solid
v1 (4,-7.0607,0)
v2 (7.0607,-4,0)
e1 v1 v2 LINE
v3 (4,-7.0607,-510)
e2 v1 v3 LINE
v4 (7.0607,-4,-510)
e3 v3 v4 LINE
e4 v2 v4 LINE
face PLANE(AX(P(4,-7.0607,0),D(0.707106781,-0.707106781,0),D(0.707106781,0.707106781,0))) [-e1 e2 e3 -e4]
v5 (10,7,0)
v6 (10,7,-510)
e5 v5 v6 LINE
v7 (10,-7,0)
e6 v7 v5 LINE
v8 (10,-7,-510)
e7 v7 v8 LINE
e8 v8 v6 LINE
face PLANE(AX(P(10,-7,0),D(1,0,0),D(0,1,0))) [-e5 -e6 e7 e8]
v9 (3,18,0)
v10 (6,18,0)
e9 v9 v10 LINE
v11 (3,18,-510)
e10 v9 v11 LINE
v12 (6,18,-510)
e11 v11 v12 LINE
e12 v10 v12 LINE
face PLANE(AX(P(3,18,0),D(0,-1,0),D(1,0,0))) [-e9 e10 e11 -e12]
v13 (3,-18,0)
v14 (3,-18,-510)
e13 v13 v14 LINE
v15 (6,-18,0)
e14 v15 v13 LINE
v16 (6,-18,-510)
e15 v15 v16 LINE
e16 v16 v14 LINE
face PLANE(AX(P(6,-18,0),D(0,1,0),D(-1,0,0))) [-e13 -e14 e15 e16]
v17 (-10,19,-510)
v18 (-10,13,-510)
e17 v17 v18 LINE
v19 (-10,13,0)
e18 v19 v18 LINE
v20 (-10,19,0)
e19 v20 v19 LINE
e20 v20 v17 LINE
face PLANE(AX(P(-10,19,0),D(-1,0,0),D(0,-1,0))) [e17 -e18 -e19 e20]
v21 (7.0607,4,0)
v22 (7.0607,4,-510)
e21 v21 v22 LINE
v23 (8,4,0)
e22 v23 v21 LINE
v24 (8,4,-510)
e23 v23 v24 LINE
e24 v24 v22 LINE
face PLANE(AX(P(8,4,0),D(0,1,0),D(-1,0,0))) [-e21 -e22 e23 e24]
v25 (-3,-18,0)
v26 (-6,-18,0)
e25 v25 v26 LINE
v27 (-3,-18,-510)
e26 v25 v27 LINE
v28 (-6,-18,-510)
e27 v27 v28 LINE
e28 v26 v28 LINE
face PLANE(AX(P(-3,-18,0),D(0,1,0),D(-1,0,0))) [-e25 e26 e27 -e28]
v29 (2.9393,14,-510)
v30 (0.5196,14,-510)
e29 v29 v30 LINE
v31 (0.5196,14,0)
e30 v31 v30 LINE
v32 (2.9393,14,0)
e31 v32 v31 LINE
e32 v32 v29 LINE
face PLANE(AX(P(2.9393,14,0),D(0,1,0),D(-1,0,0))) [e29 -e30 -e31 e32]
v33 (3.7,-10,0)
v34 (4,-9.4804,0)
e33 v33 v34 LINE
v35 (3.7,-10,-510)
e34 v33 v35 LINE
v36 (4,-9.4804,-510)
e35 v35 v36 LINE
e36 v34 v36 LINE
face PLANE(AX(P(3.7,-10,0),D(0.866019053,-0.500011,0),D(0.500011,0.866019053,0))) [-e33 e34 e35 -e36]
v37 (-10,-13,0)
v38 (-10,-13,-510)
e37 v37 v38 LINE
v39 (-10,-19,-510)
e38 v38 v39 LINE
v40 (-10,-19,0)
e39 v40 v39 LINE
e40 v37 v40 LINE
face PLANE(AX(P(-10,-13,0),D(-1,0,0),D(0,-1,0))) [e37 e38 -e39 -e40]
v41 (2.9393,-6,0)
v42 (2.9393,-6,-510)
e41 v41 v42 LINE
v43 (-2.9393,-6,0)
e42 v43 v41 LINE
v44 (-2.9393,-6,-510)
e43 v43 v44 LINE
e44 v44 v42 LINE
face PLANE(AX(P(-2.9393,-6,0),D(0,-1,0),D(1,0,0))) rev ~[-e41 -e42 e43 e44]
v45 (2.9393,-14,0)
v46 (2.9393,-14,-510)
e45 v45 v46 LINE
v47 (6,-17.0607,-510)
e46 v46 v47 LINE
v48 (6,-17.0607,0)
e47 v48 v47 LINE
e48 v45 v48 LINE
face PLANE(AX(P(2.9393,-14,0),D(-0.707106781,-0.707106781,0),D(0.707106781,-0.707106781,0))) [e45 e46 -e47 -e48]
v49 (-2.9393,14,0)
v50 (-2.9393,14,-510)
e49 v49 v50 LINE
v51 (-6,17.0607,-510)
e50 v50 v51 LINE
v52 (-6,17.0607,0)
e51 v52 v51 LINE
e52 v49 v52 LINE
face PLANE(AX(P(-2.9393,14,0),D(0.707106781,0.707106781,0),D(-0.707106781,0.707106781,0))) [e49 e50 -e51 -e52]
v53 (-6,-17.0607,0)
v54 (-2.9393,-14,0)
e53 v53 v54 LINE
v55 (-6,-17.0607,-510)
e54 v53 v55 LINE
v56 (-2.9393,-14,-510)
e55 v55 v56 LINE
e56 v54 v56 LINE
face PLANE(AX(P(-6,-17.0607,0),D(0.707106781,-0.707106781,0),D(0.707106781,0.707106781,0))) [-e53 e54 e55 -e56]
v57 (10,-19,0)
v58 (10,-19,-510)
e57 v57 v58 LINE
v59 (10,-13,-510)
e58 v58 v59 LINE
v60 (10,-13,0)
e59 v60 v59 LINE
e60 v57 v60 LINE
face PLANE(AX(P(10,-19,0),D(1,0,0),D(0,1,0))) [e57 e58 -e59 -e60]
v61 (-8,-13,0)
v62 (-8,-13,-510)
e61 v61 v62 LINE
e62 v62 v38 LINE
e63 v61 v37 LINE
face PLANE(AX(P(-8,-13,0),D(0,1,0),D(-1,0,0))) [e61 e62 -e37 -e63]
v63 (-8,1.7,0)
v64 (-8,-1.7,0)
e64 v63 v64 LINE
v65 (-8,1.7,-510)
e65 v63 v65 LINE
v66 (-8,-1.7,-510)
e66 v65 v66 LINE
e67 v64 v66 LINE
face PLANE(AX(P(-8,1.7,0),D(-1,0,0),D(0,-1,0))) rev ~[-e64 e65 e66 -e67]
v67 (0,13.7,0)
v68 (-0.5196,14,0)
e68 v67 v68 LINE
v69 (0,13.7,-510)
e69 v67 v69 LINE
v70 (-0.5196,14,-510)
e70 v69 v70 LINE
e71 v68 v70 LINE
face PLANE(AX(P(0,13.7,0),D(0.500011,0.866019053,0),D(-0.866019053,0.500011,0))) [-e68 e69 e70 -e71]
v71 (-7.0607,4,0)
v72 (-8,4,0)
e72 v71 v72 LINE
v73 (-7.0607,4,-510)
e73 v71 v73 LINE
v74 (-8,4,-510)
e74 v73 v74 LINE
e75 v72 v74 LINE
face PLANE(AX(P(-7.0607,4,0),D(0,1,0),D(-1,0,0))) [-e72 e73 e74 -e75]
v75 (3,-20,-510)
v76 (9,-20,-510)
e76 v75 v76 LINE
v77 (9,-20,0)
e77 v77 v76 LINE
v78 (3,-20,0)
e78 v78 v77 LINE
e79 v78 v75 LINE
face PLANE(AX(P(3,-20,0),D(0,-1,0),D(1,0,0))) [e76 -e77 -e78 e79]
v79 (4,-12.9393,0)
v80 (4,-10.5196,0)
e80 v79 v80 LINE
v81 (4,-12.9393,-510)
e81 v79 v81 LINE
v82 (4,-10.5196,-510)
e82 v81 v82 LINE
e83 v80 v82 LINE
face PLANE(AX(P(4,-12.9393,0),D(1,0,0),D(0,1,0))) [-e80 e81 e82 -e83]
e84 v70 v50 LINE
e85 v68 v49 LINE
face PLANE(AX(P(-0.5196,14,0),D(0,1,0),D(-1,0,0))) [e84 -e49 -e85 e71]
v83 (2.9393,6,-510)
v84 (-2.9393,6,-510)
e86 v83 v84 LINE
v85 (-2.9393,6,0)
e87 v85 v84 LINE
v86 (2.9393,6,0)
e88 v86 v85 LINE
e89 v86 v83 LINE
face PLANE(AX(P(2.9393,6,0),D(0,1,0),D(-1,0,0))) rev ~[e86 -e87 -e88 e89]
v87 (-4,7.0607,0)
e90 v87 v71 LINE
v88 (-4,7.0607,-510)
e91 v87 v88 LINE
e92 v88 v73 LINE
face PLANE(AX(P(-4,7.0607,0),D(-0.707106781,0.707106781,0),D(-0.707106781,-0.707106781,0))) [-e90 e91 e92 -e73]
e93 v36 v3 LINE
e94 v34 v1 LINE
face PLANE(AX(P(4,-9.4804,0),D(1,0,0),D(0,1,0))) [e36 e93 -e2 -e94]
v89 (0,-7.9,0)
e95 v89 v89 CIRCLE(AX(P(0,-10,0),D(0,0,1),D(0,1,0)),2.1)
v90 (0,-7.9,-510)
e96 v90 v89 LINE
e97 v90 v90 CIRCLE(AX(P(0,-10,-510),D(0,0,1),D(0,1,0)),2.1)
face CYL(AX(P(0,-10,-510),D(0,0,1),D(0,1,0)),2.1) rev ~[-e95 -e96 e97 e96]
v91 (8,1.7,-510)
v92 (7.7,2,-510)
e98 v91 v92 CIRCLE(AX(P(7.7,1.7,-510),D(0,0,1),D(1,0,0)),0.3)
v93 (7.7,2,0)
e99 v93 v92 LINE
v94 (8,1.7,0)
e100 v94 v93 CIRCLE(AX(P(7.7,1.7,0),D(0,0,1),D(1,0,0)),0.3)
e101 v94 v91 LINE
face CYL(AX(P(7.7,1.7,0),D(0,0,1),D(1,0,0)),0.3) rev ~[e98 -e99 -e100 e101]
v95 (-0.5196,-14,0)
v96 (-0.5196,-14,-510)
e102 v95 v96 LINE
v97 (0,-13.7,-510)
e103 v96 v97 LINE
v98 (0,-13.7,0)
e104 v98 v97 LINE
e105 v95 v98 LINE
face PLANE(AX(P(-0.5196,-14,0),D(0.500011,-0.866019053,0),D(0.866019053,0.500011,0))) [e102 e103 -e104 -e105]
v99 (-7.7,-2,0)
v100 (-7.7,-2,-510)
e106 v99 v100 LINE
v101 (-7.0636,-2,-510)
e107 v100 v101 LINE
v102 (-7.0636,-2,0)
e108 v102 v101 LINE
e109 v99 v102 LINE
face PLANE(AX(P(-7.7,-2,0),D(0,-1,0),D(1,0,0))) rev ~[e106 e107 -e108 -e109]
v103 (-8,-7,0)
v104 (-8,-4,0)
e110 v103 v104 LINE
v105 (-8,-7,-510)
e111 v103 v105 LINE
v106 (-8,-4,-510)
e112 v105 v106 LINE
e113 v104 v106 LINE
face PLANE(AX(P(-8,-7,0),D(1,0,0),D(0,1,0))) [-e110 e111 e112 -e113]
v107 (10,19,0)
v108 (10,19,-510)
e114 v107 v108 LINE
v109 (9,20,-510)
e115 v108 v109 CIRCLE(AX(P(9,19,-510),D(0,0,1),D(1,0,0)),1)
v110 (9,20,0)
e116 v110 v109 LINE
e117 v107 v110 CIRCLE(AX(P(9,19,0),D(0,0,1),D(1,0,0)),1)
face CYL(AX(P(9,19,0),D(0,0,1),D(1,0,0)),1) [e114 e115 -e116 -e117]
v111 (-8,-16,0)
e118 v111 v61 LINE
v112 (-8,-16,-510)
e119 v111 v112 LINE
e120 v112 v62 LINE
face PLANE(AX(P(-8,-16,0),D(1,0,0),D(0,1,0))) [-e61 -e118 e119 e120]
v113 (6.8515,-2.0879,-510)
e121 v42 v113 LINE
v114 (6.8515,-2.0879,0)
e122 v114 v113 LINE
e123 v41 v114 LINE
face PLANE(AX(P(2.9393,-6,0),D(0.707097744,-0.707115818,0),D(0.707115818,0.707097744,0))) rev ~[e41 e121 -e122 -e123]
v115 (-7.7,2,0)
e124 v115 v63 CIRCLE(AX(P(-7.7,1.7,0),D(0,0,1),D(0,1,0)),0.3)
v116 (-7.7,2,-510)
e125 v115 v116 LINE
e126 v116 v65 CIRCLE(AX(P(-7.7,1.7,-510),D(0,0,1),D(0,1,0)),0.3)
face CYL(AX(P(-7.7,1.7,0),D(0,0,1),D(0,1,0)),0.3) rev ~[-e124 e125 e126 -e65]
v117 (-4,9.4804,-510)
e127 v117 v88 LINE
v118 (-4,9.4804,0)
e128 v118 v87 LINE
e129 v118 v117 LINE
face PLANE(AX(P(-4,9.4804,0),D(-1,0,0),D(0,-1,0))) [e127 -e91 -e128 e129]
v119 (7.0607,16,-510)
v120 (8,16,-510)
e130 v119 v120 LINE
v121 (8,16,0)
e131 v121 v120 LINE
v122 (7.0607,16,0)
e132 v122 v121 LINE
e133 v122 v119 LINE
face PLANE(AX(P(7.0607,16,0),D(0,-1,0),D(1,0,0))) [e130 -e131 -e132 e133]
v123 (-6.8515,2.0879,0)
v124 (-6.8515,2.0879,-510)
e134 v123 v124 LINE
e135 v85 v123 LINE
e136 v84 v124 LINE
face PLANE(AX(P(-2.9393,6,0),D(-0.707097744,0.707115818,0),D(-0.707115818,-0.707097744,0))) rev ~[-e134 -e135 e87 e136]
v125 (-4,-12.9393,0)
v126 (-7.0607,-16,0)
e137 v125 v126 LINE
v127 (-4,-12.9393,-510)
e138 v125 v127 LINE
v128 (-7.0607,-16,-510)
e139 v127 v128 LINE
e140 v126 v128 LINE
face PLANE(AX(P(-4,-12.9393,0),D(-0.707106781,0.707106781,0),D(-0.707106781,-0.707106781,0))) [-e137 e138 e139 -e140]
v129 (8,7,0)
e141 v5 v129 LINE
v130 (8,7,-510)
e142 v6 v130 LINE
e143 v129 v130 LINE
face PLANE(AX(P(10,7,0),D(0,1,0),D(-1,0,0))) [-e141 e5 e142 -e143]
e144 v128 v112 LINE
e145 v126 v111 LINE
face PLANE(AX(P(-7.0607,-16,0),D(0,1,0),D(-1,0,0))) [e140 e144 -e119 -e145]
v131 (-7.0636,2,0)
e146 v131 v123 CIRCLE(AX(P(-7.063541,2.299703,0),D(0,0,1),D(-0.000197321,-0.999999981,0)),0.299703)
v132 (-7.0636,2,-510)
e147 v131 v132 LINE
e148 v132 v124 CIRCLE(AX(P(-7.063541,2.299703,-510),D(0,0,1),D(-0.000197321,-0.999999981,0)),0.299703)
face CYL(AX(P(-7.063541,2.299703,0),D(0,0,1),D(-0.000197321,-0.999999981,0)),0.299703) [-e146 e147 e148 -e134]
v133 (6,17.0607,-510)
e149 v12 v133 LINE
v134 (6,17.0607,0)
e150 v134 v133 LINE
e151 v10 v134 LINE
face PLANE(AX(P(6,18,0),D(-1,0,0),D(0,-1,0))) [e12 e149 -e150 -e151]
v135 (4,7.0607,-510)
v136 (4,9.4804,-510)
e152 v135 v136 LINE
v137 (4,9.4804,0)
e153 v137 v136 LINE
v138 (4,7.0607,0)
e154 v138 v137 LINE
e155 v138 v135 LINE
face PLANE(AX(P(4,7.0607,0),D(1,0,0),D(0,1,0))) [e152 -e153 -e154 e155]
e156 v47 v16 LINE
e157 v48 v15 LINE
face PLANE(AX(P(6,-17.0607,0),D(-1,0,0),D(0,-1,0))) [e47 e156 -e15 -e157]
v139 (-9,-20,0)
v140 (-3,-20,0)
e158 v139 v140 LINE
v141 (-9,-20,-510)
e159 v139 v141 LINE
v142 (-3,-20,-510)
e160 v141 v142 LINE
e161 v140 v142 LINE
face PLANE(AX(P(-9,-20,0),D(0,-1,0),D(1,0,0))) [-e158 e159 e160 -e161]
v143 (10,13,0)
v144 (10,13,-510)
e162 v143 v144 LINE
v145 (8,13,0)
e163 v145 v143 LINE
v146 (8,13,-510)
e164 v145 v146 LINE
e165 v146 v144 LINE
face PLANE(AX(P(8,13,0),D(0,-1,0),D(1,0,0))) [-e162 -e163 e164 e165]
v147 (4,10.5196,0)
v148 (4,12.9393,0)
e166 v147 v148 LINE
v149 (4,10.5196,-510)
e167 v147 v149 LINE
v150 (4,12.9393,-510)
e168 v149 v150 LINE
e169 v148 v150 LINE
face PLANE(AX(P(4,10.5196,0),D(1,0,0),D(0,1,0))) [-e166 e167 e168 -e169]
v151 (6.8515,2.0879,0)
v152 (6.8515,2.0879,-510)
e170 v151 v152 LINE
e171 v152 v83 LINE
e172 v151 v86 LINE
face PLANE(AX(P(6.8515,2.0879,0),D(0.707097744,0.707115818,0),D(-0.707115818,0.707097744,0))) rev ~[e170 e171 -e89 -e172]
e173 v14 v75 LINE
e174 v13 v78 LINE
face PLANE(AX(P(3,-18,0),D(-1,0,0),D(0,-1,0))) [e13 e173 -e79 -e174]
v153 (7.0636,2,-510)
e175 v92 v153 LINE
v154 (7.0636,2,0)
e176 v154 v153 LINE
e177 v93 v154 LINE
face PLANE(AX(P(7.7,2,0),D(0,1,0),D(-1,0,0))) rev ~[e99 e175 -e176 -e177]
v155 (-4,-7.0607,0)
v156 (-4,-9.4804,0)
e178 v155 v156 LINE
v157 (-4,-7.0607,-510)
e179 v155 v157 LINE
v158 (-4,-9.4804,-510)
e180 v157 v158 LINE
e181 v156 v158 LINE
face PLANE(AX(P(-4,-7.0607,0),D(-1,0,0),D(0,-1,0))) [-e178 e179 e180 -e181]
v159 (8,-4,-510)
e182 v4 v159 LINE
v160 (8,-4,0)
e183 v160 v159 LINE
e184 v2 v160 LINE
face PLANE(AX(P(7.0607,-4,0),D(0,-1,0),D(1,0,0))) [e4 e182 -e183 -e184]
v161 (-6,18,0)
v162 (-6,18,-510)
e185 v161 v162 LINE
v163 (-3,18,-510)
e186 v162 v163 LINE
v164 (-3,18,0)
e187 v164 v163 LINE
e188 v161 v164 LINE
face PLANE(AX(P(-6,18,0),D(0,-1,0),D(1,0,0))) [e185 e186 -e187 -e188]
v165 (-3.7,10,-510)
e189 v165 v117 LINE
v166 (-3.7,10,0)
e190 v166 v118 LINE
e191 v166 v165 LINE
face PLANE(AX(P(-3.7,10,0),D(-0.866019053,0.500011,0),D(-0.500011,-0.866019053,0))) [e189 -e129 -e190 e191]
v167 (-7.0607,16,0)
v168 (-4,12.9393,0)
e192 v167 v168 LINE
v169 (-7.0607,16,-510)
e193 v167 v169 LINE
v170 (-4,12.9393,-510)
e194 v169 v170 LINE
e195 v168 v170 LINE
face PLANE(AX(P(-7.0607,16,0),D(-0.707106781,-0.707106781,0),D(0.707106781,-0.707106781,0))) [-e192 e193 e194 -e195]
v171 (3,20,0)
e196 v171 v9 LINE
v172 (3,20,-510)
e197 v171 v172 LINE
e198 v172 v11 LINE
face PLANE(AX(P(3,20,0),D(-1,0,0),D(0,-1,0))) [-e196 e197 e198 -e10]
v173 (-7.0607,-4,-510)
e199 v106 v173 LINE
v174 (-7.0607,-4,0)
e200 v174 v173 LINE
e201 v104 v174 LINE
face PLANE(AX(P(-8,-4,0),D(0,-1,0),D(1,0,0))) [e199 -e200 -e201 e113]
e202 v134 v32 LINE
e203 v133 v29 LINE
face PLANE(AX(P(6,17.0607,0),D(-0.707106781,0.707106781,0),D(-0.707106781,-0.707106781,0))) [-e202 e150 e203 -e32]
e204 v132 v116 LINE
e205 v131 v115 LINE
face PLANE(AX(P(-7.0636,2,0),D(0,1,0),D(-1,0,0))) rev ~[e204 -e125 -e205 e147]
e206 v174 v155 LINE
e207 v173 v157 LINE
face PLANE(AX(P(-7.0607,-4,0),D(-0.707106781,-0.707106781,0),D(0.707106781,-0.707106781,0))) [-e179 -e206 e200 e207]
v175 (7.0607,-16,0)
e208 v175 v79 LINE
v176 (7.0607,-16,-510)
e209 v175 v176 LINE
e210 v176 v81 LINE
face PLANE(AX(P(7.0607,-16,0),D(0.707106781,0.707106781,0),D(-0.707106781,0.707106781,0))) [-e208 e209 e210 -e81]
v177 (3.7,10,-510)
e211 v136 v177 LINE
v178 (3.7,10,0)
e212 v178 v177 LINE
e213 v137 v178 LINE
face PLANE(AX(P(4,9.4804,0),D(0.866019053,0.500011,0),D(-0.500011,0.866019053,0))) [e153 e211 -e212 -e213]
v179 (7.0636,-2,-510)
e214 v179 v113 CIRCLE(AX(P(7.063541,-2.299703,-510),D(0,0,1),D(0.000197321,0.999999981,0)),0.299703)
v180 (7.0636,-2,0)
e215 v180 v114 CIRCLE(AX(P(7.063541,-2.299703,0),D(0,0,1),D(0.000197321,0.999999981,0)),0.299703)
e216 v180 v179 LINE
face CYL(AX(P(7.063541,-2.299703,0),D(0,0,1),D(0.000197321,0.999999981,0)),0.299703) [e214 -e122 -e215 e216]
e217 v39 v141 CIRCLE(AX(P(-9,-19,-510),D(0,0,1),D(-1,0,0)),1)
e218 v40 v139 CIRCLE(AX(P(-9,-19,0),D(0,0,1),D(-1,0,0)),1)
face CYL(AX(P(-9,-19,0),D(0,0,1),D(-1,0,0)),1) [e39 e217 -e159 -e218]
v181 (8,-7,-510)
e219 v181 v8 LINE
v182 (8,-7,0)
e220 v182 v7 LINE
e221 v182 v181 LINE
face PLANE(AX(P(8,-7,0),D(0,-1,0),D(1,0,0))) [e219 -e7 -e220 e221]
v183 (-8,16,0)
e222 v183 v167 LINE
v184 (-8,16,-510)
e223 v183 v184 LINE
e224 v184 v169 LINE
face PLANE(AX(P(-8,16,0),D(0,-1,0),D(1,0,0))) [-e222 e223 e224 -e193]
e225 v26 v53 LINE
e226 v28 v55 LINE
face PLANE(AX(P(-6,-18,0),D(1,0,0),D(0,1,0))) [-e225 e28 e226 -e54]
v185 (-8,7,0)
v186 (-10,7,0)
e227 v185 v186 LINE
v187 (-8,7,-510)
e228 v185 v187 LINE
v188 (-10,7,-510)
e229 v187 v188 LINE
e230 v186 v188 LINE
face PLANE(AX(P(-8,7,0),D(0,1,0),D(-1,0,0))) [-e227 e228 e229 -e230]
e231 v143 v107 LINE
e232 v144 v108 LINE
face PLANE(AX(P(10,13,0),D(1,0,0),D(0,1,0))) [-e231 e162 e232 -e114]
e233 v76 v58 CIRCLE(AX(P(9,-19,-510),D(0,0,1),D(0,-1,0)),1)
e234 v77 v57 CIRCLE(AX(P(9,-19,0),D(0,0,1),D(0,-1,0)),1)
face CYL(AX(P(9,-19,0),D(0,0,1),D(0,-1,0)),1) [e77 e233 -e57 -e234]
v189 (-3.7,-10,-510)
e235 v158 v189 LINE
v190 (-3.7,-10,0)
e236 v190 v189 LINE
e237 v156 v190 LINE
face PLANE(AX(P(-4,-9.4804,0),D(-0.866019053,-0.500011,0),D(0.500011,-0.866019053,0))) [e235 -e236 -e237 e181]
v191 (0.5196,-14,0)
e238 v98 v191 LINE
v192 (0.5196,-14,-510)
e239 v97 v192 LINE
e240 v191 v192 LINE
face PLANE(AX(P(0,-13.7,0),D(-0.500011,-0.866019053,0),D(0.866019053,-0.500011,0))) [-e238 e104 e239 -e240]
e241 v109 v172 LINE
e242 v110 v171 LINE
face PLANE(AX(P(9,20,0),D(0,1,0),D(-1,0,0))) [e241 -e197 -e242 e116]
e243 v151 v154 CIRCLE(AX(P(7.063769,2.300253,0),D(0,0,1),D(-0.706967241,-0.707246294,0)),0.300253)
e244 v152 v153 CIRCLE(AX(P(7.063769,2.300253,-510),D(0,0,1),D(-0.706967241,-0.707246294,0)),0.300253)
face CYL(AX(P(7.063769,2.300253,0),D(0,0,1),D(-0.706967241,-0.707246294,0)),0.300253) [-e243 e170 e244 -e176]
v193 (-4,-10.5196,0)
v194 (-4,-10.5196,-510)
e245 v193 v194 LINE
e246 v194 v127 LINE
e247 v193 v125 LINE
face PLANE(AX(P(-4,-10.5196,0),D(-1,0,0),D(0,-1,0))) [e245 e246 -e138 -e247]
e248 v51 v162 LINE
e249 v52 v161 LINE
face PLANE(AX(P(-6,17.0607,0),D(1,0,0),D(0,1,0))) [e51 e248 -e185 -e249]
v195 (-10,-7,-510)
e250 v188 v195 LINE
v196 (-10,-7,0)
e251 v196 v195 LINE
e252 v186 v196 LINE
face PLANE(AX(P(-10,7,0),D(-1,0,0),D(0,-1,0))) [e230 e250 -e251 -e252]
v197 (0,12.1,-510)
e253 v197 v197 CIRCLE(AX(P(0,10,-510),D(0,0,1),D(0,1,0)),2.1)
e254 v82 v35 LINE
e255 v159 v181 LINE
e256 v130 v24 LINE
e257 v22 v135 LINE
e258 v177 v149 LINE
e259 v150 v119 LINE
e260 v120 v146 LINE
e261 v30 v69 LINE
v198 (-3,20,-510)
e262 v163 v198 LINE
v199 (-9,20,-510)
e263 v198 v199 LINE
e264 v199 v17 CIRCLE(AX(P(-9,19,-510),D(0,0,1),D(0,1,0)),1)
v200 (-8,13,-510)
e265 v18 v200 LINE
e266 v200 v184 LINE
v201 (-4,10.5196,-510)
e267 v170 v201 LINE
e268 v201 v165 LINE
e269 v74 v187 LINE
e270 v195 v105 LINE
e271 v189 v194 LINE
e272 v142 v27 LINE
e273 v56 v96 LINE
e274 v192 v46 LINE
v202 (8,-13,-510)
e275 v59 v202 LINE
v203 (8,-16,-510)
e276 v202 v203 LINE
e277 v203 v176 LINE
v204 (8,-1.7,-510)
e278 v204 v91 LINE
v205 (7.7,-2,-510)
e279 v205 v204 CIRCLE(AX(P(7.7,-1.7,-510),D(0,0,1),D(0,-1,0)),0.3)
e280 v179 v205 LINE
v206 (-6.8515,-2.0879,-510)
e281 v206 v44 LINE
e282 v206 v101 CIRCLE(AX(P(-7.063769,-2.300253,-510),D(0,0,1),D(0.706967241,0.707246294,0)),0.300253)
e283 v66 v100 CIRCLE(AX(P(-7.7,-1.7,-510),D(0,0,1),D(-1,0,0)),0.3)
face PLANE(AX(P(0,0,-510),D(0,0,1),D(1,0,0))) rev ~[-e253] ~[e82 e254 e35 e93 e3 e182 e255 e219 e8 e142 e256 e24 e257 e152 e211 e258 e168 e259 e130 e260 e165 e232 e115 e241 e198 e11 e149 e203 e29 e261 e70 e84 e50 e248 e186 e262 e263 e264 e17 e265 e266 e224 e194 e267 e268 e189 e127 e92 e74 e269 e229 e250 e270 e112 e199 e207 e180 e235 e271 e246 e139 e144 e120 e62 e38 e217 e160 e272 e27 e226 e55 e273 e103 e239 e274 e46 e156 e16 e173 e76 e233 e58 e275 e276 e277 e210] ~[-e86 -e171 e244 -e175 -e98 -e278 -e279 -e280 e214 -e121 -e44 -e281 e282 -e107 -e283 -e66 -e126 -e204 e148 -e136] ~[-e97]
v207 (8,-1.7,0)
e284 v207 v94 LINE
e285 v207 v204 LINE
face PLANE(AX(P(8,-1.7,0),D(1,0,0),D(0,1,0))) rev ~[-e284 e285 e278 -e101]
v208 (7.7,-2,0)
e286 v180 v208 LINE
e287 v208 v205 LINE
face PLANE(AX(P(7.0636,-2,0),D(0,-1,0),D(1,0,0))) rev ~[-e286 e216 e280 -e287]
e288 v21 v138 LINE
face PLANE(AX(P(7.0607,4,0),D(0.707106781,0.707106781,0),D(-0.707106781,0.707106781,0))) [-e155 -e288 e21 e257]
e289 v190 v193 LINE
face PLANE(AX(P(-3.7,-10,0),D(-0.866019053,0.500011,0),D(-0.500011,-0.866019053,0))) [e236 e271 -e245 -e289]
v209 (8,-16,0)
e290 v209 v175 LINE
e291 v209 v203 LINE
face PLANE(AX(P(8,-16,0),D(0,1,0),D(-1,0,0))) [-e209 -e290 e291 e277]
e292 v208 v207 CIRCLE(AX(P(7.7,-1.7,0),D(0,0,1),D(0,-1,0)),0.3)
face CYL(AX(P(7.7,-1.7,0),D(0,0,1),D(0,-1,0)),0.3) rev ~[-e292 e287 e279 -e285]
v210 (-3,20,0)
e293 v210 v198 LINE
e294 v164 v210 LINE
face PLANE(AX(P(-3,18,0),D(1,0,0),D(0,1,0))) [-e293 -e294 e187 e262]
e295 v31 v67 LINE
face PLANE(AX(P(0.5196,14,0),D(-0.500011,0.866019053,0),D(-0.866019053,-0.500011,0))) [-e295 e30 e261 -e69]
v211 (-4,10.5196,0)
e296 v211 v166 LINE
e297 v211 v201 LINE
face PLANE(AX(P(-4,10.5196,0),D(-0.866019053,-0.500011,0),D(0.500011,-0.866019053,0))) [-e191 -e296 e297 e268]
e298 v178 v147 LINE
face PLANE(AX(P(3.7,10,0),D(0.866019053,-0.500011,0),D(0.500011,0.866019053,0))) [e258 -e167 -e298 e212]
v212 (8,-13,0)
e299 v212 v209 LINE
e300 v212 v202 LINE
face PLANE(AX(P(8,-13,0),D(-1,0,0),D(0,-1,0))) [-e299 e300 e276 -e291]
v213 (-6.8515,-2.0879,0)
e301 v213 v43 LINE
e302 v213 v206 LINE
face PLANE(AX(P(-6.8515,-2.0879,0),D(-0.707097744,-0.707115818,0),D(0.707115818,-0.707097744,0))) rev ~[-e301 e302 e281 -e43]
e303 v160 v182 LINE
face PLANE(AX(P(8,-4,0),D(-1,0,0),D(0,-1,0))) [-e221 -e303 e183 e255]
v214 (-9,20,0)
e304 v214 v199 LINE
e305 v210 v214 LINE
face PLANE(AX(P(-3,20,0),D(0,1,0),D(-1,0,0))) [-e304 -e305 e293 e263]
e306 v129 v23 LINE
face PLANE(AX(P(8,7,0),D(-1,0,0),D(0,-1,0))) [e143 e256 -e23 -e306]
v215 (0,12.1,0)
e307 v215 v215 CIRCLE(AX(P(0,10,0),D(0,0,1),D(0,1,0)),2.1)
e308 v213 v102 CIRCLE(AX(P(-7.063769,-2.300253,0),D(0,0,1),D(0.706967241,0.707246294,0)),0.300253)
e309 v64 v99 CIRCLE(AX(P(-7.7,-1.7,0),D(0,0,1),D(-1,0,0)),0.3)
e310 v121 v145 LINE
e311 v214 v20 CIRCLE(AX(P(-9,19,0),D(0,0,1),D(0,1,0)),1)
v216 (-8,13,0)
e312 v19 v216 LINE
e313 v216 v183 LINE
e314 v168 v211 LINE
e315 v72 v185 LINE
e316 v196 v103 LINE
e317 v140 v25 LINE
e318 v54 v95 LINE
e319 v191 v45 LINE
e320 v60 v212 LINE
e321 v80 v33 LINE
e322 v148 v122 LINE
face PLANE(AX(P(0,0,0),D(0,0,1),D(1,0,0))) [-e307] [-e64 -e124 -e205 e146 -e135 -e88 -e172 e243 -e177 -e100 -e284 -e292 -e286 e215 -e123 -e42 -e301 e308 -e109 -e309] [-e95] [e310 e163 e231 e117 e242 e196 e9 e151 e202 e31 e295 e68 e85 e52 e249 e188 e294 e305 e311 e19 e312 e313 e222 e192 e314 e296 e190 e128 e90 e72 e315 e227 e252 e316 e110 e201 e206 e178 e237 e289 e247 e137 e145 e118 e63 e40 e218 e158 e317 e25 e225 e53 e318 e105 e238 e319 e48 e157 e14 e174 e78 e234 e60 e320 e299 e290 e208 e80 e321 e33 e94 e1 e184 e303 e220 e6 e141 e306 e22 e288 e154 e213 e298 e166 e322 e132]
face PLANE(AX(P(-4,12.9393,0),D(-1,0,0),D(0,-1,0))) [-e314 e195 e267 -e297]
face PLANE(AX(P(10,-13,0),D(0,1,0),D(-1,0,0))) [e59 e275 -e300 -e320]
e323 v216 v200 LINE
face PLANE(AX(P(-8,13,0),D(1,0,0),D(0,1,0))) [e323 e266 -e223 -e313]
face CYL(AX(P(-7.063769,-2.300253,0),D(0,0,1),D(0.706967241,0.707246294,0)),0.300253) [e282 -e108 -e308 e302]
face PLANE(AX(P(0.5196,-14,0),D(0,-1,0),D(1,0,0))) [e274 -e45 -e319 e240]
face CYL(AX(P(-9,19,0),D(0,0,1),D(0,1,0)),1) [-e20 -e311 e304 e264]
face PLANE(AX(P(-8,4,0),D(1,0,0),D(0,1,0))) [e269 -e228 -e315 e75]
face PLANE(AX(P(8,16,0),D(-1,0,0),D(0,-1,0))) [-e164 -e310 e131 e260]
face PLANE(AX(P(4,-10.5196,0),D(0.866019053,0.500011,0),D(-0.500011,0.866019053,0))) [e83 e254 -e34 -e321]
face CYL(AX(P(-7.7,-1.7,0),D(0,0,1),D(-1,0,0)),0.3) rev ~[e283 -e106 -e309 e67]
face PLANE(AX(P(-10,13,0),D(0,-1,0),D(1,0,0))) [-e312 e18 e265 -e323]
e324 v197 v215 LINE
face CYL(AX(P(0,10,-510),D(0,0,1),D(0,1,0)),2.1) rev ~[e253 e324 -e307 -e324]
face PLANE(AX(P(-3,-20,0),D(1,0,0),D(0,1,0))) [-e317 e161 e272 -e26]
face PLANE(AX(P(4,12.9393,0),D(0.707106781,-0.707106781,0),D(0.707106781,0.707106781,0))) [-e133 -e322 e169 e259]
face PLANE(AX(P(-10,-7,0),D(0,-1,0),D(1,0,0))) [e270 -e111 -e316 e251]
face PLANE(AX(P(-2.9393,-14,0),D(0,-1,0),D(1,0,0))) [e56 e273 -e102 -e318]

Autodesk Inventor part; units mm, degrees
sketch "Sketch_1" plane through (0, 0, 0) normal (0, 0, 1) x (1, 0, 0)
  line L0 (-10, -7) -> (-8, -7)
  line L1 (-8, -7) -> (-8, -4)
  line L2 (-8, -4) -> (-7.0607, -4)
  line L3 (-7.0607, -4) -> (-4, -7.0607)
  line L4 (-4, -7.0607) -> (-4, -9.4804)
  line L5 (-4, -9.4804) -> (-3.7, -10)
  line L6 (-3.7, -10) -> (-4, -10.5196)
  line L7 (-4, -10.5196) -> (-4, -12.9393)
  line L8 (-4, -12.9393) -> (-7.0607, -16)
  line L9 (-7.0607, -16) -> (-8, -16)
  line L10 (-8, -16) -> (-8, -13)
  line L11 (-8, -13) -> (-10, -13)
  line L12 (-10, -13) -> (-10, -19)
  arc A0 (-10, -19) -> (-9, -20) centre (-9, -19) ccw
  line L13 (-9, -20) -> (-3, -20)
  line L14 (-3, -20) -> (-3, -18)
  line L15 (-3, -18) -> (-6, -18)
  line L16 (-6, -18) -> (-6, -17.0607)
  line L17 (-6, -17.0607) -> (-2.9393, -14)
  line L18 (-2.9393, -14) -> (-0.5196, -14)
  line L19 (-0.5196, -14) -> (0, -13.7)
  line L20 (0, -13.7) -> (0.5196, -14)
  line L21 (0.5196, -14) -> (2.9393, -14)
  line L22 (2.9393, -14) -> (6, -17.0607)
  line L23 (6, -17.0607) -> (6, -18)
  line L24 (6, -18) -> (3, -18)
  line L25 (3, -18) -> (3, -20)
  line L26 (3, -20) -> (9, -20)
  arc A1 (9, -20) -> (10, -19) centre (9, -19) ccw
  line L27 (10, -19) -> (10, -13)
  line L28 (10, -13) -> (8, -13)
  line L29 (8, -13) -> (8, -16)
  line L30 (8, -16) -> (7.0607, -16)
  line L31 (7.0607, -16) -> (4, -12.9393)
  line L32 (4, -12.9393) -> (4, -10.5196)
  line L33 (4, -10.5196) -> (3.7, -10)
  line L34 (3.7, -10) -> (4, -9.4804)
  line L35 (4, -9.4804) -> (4, -7.0607)
  line L36 (4, -7.0607) -> (7.0607, -4)
  line L37 (7.0607, -4) -> (8, -4)
  line L38 (8, -4) -> (8, -7)
  line L39 (8, -7) -> (10, -7)
  line L40 (10, -7) -> (10, 7)
  line L41 (10, 7) -> (8, 7)
  line L42 (8, 7) -> (8, 4)
  line L43 (8, 4) -> (7.0607, 4)
  line L44 (7.0607, 4) -> (4, 7.0607)
  line L45 (4, 7.0607) -> (4, 9.4804)
  line L46 (4, 9.4804) -> (3.7, 10)
  line L47 (3.7, 10) -> (4, 10.5196)
  line L48 (4, 10.5196) -> (4, 12.9393)
  line L49 (4, 12.9393) -> (7.0607, 16)
  line L50 (7.0607, 16) -> (8, 16)
  line L51 (8, 16) -> (8, 13)
  line L52 (8, 13) -> (10, 13)
  line L53 (10, 13) -> (10, 19)
  arc A2 (10, 19) -> (9, 20) centre (9, 19) ccw
  line L54 (9, 20) -> (3, 20)
  line L55 (3, 20) -> (3, 18)
  line L56 (3, 18) -> (6, 18)
  line L57 (6, 18) -> (6, 17.0607)
  line L58 (6, 17.0607) -> (2.9393, 14)
  line L59 (2.9393, 14) -> (0.5196, 14)
  line L60 (0.5196, 14) -> (0, 13.7)
  line L61 (0, 13.7) -> (-0.5196, 14)
  line L62 (-0.5196, 14) -> (-2.9393, 14)
  line L63 (-2.9393, 14) -> (-6, 17.0607)
  line L64 (-6, 17.0607) -> (-6, 18)
  line L65 (-6, 18) -> (-3, 18)
  line L66 (-3, 18) -> (-3, 20)
  line L67 (-3, 20) -> (-9, 20)
  arc A3 (-9, 20) -> (-10, 19) centre (-9, 19) ccw
  line L68 (-10, 19) -> (-10, 13)
  line L69 (-10, 13) -> (-8, 13)
  line L70 (-8, 13) -> (-8, 16)
  line L71 (-8, 16) -> (-7.0607, 16)
  line L72 (-7.0607, 16) -> (-4, 12.9393)
  line L73 (-4, 12.9393) -> (-4, 10.5196)
  line L74 (-4, 10.5196) -> (-3.7, 10)
  line L75 (-3.7, 10) -> (-4, 9.4804)
  line L76 (-4, 9.4804) -> (-4, 7.0607)
  line L77 (-4, 7.0607) -> (-7.0607, 4)
  line L78 (-7.0607, 4) -> (-8, 4)
  line L79 (-8, 4) -> (-8, 7)
  line L80 (-8, 7) -> (-10, 7)
  line L81 (-10, 7) -> (-10, -7)
  line L82 (-8, 1.7) -> (-8, -1.7)
  arc A4 (-8, -1.7) -> (-7.7, -2) centre (-7.7, -1.7) ccw
  line L83 (-7.7, -2) -> (-7.0636, -2)
  arc A5 (-6.8515, -2.0879) -> (-7.0636, -2) centre (-7.0636, -2.3) ccw
  line L84 (-6.8515, -2.0879) -> (-2.9393, -6)
  line L85 (-2.9393, -6) -> (2.9393, -6)
  line L86 (2.9393, -6) -> (6.8515, -2.0879)
  arc A6 (7.0636, -2) -> (6.8515, -2.0879) centre (7.0636, -2.3) ccw
  line L87 (7.0636, -2) -> (7.7, -2)
  arc A7 (7.7, -2) -> (8, -1.7) centre (7.7, -1.7) ccw
  line L88 (8, -1.7) -> (8, 1.7)
  arc A8 (8, 1.7) -> (7.7, 2) centre (7.7, 1.7) ccw
  line L89 (7.7, 2) -> (7.0636, 2)
  arc A9 (6.8515, 2.0879) -> (7.0636, 2) centre (7.0636, 2.3) ccw
  line L90 (6.8515, 2.0879) -> (2.9393, 6)
  line L91 (2.9393, 6) -> (-2.9393, 6)
  line L92 (-2.9393, 6) -> (-6.8515, 2.0879)
  arc A10 (-7.0636, 2) -> (-6.8515, 2.0879) centre (-7.0636, 2.3) ccw
  line L93 (-7.0636, 2) -> (-7.7, 2)
  arc A11 (-7.7, 2) -> (-8, 1.7) centre (-7.7, 1.7) ccw
extrude "Extrusion1" add sketch "Sketch_1" against normal blind 510
sketch "Sketch2" plane through (0, 0, -510) normal (0, 0, -1) x (-1, 0, 0)
  point P0 (0, 10)
hole "Hole1" at (0, 10, -510) direction (0, 0, 1) diameter 4.2 depth 510
pattern_linear "Rectangular Pattern1" count 2 spacing 20 along (0, -1, 0) of "Hole1"
ref_plane "C1_XY" through (0, 0, 0) normal (0, 0, 1) x (1, 0, 0)
ref_plane "C1_YZ" through (0, 0, 0) normal (1, 0, 0) x (0, 1, 0)
ref_plane "C1_ZX" through (0, 0, 0) normal (0, 1, 0) x (0, 0, 1)
properties part number "HFS5-2040-510"
